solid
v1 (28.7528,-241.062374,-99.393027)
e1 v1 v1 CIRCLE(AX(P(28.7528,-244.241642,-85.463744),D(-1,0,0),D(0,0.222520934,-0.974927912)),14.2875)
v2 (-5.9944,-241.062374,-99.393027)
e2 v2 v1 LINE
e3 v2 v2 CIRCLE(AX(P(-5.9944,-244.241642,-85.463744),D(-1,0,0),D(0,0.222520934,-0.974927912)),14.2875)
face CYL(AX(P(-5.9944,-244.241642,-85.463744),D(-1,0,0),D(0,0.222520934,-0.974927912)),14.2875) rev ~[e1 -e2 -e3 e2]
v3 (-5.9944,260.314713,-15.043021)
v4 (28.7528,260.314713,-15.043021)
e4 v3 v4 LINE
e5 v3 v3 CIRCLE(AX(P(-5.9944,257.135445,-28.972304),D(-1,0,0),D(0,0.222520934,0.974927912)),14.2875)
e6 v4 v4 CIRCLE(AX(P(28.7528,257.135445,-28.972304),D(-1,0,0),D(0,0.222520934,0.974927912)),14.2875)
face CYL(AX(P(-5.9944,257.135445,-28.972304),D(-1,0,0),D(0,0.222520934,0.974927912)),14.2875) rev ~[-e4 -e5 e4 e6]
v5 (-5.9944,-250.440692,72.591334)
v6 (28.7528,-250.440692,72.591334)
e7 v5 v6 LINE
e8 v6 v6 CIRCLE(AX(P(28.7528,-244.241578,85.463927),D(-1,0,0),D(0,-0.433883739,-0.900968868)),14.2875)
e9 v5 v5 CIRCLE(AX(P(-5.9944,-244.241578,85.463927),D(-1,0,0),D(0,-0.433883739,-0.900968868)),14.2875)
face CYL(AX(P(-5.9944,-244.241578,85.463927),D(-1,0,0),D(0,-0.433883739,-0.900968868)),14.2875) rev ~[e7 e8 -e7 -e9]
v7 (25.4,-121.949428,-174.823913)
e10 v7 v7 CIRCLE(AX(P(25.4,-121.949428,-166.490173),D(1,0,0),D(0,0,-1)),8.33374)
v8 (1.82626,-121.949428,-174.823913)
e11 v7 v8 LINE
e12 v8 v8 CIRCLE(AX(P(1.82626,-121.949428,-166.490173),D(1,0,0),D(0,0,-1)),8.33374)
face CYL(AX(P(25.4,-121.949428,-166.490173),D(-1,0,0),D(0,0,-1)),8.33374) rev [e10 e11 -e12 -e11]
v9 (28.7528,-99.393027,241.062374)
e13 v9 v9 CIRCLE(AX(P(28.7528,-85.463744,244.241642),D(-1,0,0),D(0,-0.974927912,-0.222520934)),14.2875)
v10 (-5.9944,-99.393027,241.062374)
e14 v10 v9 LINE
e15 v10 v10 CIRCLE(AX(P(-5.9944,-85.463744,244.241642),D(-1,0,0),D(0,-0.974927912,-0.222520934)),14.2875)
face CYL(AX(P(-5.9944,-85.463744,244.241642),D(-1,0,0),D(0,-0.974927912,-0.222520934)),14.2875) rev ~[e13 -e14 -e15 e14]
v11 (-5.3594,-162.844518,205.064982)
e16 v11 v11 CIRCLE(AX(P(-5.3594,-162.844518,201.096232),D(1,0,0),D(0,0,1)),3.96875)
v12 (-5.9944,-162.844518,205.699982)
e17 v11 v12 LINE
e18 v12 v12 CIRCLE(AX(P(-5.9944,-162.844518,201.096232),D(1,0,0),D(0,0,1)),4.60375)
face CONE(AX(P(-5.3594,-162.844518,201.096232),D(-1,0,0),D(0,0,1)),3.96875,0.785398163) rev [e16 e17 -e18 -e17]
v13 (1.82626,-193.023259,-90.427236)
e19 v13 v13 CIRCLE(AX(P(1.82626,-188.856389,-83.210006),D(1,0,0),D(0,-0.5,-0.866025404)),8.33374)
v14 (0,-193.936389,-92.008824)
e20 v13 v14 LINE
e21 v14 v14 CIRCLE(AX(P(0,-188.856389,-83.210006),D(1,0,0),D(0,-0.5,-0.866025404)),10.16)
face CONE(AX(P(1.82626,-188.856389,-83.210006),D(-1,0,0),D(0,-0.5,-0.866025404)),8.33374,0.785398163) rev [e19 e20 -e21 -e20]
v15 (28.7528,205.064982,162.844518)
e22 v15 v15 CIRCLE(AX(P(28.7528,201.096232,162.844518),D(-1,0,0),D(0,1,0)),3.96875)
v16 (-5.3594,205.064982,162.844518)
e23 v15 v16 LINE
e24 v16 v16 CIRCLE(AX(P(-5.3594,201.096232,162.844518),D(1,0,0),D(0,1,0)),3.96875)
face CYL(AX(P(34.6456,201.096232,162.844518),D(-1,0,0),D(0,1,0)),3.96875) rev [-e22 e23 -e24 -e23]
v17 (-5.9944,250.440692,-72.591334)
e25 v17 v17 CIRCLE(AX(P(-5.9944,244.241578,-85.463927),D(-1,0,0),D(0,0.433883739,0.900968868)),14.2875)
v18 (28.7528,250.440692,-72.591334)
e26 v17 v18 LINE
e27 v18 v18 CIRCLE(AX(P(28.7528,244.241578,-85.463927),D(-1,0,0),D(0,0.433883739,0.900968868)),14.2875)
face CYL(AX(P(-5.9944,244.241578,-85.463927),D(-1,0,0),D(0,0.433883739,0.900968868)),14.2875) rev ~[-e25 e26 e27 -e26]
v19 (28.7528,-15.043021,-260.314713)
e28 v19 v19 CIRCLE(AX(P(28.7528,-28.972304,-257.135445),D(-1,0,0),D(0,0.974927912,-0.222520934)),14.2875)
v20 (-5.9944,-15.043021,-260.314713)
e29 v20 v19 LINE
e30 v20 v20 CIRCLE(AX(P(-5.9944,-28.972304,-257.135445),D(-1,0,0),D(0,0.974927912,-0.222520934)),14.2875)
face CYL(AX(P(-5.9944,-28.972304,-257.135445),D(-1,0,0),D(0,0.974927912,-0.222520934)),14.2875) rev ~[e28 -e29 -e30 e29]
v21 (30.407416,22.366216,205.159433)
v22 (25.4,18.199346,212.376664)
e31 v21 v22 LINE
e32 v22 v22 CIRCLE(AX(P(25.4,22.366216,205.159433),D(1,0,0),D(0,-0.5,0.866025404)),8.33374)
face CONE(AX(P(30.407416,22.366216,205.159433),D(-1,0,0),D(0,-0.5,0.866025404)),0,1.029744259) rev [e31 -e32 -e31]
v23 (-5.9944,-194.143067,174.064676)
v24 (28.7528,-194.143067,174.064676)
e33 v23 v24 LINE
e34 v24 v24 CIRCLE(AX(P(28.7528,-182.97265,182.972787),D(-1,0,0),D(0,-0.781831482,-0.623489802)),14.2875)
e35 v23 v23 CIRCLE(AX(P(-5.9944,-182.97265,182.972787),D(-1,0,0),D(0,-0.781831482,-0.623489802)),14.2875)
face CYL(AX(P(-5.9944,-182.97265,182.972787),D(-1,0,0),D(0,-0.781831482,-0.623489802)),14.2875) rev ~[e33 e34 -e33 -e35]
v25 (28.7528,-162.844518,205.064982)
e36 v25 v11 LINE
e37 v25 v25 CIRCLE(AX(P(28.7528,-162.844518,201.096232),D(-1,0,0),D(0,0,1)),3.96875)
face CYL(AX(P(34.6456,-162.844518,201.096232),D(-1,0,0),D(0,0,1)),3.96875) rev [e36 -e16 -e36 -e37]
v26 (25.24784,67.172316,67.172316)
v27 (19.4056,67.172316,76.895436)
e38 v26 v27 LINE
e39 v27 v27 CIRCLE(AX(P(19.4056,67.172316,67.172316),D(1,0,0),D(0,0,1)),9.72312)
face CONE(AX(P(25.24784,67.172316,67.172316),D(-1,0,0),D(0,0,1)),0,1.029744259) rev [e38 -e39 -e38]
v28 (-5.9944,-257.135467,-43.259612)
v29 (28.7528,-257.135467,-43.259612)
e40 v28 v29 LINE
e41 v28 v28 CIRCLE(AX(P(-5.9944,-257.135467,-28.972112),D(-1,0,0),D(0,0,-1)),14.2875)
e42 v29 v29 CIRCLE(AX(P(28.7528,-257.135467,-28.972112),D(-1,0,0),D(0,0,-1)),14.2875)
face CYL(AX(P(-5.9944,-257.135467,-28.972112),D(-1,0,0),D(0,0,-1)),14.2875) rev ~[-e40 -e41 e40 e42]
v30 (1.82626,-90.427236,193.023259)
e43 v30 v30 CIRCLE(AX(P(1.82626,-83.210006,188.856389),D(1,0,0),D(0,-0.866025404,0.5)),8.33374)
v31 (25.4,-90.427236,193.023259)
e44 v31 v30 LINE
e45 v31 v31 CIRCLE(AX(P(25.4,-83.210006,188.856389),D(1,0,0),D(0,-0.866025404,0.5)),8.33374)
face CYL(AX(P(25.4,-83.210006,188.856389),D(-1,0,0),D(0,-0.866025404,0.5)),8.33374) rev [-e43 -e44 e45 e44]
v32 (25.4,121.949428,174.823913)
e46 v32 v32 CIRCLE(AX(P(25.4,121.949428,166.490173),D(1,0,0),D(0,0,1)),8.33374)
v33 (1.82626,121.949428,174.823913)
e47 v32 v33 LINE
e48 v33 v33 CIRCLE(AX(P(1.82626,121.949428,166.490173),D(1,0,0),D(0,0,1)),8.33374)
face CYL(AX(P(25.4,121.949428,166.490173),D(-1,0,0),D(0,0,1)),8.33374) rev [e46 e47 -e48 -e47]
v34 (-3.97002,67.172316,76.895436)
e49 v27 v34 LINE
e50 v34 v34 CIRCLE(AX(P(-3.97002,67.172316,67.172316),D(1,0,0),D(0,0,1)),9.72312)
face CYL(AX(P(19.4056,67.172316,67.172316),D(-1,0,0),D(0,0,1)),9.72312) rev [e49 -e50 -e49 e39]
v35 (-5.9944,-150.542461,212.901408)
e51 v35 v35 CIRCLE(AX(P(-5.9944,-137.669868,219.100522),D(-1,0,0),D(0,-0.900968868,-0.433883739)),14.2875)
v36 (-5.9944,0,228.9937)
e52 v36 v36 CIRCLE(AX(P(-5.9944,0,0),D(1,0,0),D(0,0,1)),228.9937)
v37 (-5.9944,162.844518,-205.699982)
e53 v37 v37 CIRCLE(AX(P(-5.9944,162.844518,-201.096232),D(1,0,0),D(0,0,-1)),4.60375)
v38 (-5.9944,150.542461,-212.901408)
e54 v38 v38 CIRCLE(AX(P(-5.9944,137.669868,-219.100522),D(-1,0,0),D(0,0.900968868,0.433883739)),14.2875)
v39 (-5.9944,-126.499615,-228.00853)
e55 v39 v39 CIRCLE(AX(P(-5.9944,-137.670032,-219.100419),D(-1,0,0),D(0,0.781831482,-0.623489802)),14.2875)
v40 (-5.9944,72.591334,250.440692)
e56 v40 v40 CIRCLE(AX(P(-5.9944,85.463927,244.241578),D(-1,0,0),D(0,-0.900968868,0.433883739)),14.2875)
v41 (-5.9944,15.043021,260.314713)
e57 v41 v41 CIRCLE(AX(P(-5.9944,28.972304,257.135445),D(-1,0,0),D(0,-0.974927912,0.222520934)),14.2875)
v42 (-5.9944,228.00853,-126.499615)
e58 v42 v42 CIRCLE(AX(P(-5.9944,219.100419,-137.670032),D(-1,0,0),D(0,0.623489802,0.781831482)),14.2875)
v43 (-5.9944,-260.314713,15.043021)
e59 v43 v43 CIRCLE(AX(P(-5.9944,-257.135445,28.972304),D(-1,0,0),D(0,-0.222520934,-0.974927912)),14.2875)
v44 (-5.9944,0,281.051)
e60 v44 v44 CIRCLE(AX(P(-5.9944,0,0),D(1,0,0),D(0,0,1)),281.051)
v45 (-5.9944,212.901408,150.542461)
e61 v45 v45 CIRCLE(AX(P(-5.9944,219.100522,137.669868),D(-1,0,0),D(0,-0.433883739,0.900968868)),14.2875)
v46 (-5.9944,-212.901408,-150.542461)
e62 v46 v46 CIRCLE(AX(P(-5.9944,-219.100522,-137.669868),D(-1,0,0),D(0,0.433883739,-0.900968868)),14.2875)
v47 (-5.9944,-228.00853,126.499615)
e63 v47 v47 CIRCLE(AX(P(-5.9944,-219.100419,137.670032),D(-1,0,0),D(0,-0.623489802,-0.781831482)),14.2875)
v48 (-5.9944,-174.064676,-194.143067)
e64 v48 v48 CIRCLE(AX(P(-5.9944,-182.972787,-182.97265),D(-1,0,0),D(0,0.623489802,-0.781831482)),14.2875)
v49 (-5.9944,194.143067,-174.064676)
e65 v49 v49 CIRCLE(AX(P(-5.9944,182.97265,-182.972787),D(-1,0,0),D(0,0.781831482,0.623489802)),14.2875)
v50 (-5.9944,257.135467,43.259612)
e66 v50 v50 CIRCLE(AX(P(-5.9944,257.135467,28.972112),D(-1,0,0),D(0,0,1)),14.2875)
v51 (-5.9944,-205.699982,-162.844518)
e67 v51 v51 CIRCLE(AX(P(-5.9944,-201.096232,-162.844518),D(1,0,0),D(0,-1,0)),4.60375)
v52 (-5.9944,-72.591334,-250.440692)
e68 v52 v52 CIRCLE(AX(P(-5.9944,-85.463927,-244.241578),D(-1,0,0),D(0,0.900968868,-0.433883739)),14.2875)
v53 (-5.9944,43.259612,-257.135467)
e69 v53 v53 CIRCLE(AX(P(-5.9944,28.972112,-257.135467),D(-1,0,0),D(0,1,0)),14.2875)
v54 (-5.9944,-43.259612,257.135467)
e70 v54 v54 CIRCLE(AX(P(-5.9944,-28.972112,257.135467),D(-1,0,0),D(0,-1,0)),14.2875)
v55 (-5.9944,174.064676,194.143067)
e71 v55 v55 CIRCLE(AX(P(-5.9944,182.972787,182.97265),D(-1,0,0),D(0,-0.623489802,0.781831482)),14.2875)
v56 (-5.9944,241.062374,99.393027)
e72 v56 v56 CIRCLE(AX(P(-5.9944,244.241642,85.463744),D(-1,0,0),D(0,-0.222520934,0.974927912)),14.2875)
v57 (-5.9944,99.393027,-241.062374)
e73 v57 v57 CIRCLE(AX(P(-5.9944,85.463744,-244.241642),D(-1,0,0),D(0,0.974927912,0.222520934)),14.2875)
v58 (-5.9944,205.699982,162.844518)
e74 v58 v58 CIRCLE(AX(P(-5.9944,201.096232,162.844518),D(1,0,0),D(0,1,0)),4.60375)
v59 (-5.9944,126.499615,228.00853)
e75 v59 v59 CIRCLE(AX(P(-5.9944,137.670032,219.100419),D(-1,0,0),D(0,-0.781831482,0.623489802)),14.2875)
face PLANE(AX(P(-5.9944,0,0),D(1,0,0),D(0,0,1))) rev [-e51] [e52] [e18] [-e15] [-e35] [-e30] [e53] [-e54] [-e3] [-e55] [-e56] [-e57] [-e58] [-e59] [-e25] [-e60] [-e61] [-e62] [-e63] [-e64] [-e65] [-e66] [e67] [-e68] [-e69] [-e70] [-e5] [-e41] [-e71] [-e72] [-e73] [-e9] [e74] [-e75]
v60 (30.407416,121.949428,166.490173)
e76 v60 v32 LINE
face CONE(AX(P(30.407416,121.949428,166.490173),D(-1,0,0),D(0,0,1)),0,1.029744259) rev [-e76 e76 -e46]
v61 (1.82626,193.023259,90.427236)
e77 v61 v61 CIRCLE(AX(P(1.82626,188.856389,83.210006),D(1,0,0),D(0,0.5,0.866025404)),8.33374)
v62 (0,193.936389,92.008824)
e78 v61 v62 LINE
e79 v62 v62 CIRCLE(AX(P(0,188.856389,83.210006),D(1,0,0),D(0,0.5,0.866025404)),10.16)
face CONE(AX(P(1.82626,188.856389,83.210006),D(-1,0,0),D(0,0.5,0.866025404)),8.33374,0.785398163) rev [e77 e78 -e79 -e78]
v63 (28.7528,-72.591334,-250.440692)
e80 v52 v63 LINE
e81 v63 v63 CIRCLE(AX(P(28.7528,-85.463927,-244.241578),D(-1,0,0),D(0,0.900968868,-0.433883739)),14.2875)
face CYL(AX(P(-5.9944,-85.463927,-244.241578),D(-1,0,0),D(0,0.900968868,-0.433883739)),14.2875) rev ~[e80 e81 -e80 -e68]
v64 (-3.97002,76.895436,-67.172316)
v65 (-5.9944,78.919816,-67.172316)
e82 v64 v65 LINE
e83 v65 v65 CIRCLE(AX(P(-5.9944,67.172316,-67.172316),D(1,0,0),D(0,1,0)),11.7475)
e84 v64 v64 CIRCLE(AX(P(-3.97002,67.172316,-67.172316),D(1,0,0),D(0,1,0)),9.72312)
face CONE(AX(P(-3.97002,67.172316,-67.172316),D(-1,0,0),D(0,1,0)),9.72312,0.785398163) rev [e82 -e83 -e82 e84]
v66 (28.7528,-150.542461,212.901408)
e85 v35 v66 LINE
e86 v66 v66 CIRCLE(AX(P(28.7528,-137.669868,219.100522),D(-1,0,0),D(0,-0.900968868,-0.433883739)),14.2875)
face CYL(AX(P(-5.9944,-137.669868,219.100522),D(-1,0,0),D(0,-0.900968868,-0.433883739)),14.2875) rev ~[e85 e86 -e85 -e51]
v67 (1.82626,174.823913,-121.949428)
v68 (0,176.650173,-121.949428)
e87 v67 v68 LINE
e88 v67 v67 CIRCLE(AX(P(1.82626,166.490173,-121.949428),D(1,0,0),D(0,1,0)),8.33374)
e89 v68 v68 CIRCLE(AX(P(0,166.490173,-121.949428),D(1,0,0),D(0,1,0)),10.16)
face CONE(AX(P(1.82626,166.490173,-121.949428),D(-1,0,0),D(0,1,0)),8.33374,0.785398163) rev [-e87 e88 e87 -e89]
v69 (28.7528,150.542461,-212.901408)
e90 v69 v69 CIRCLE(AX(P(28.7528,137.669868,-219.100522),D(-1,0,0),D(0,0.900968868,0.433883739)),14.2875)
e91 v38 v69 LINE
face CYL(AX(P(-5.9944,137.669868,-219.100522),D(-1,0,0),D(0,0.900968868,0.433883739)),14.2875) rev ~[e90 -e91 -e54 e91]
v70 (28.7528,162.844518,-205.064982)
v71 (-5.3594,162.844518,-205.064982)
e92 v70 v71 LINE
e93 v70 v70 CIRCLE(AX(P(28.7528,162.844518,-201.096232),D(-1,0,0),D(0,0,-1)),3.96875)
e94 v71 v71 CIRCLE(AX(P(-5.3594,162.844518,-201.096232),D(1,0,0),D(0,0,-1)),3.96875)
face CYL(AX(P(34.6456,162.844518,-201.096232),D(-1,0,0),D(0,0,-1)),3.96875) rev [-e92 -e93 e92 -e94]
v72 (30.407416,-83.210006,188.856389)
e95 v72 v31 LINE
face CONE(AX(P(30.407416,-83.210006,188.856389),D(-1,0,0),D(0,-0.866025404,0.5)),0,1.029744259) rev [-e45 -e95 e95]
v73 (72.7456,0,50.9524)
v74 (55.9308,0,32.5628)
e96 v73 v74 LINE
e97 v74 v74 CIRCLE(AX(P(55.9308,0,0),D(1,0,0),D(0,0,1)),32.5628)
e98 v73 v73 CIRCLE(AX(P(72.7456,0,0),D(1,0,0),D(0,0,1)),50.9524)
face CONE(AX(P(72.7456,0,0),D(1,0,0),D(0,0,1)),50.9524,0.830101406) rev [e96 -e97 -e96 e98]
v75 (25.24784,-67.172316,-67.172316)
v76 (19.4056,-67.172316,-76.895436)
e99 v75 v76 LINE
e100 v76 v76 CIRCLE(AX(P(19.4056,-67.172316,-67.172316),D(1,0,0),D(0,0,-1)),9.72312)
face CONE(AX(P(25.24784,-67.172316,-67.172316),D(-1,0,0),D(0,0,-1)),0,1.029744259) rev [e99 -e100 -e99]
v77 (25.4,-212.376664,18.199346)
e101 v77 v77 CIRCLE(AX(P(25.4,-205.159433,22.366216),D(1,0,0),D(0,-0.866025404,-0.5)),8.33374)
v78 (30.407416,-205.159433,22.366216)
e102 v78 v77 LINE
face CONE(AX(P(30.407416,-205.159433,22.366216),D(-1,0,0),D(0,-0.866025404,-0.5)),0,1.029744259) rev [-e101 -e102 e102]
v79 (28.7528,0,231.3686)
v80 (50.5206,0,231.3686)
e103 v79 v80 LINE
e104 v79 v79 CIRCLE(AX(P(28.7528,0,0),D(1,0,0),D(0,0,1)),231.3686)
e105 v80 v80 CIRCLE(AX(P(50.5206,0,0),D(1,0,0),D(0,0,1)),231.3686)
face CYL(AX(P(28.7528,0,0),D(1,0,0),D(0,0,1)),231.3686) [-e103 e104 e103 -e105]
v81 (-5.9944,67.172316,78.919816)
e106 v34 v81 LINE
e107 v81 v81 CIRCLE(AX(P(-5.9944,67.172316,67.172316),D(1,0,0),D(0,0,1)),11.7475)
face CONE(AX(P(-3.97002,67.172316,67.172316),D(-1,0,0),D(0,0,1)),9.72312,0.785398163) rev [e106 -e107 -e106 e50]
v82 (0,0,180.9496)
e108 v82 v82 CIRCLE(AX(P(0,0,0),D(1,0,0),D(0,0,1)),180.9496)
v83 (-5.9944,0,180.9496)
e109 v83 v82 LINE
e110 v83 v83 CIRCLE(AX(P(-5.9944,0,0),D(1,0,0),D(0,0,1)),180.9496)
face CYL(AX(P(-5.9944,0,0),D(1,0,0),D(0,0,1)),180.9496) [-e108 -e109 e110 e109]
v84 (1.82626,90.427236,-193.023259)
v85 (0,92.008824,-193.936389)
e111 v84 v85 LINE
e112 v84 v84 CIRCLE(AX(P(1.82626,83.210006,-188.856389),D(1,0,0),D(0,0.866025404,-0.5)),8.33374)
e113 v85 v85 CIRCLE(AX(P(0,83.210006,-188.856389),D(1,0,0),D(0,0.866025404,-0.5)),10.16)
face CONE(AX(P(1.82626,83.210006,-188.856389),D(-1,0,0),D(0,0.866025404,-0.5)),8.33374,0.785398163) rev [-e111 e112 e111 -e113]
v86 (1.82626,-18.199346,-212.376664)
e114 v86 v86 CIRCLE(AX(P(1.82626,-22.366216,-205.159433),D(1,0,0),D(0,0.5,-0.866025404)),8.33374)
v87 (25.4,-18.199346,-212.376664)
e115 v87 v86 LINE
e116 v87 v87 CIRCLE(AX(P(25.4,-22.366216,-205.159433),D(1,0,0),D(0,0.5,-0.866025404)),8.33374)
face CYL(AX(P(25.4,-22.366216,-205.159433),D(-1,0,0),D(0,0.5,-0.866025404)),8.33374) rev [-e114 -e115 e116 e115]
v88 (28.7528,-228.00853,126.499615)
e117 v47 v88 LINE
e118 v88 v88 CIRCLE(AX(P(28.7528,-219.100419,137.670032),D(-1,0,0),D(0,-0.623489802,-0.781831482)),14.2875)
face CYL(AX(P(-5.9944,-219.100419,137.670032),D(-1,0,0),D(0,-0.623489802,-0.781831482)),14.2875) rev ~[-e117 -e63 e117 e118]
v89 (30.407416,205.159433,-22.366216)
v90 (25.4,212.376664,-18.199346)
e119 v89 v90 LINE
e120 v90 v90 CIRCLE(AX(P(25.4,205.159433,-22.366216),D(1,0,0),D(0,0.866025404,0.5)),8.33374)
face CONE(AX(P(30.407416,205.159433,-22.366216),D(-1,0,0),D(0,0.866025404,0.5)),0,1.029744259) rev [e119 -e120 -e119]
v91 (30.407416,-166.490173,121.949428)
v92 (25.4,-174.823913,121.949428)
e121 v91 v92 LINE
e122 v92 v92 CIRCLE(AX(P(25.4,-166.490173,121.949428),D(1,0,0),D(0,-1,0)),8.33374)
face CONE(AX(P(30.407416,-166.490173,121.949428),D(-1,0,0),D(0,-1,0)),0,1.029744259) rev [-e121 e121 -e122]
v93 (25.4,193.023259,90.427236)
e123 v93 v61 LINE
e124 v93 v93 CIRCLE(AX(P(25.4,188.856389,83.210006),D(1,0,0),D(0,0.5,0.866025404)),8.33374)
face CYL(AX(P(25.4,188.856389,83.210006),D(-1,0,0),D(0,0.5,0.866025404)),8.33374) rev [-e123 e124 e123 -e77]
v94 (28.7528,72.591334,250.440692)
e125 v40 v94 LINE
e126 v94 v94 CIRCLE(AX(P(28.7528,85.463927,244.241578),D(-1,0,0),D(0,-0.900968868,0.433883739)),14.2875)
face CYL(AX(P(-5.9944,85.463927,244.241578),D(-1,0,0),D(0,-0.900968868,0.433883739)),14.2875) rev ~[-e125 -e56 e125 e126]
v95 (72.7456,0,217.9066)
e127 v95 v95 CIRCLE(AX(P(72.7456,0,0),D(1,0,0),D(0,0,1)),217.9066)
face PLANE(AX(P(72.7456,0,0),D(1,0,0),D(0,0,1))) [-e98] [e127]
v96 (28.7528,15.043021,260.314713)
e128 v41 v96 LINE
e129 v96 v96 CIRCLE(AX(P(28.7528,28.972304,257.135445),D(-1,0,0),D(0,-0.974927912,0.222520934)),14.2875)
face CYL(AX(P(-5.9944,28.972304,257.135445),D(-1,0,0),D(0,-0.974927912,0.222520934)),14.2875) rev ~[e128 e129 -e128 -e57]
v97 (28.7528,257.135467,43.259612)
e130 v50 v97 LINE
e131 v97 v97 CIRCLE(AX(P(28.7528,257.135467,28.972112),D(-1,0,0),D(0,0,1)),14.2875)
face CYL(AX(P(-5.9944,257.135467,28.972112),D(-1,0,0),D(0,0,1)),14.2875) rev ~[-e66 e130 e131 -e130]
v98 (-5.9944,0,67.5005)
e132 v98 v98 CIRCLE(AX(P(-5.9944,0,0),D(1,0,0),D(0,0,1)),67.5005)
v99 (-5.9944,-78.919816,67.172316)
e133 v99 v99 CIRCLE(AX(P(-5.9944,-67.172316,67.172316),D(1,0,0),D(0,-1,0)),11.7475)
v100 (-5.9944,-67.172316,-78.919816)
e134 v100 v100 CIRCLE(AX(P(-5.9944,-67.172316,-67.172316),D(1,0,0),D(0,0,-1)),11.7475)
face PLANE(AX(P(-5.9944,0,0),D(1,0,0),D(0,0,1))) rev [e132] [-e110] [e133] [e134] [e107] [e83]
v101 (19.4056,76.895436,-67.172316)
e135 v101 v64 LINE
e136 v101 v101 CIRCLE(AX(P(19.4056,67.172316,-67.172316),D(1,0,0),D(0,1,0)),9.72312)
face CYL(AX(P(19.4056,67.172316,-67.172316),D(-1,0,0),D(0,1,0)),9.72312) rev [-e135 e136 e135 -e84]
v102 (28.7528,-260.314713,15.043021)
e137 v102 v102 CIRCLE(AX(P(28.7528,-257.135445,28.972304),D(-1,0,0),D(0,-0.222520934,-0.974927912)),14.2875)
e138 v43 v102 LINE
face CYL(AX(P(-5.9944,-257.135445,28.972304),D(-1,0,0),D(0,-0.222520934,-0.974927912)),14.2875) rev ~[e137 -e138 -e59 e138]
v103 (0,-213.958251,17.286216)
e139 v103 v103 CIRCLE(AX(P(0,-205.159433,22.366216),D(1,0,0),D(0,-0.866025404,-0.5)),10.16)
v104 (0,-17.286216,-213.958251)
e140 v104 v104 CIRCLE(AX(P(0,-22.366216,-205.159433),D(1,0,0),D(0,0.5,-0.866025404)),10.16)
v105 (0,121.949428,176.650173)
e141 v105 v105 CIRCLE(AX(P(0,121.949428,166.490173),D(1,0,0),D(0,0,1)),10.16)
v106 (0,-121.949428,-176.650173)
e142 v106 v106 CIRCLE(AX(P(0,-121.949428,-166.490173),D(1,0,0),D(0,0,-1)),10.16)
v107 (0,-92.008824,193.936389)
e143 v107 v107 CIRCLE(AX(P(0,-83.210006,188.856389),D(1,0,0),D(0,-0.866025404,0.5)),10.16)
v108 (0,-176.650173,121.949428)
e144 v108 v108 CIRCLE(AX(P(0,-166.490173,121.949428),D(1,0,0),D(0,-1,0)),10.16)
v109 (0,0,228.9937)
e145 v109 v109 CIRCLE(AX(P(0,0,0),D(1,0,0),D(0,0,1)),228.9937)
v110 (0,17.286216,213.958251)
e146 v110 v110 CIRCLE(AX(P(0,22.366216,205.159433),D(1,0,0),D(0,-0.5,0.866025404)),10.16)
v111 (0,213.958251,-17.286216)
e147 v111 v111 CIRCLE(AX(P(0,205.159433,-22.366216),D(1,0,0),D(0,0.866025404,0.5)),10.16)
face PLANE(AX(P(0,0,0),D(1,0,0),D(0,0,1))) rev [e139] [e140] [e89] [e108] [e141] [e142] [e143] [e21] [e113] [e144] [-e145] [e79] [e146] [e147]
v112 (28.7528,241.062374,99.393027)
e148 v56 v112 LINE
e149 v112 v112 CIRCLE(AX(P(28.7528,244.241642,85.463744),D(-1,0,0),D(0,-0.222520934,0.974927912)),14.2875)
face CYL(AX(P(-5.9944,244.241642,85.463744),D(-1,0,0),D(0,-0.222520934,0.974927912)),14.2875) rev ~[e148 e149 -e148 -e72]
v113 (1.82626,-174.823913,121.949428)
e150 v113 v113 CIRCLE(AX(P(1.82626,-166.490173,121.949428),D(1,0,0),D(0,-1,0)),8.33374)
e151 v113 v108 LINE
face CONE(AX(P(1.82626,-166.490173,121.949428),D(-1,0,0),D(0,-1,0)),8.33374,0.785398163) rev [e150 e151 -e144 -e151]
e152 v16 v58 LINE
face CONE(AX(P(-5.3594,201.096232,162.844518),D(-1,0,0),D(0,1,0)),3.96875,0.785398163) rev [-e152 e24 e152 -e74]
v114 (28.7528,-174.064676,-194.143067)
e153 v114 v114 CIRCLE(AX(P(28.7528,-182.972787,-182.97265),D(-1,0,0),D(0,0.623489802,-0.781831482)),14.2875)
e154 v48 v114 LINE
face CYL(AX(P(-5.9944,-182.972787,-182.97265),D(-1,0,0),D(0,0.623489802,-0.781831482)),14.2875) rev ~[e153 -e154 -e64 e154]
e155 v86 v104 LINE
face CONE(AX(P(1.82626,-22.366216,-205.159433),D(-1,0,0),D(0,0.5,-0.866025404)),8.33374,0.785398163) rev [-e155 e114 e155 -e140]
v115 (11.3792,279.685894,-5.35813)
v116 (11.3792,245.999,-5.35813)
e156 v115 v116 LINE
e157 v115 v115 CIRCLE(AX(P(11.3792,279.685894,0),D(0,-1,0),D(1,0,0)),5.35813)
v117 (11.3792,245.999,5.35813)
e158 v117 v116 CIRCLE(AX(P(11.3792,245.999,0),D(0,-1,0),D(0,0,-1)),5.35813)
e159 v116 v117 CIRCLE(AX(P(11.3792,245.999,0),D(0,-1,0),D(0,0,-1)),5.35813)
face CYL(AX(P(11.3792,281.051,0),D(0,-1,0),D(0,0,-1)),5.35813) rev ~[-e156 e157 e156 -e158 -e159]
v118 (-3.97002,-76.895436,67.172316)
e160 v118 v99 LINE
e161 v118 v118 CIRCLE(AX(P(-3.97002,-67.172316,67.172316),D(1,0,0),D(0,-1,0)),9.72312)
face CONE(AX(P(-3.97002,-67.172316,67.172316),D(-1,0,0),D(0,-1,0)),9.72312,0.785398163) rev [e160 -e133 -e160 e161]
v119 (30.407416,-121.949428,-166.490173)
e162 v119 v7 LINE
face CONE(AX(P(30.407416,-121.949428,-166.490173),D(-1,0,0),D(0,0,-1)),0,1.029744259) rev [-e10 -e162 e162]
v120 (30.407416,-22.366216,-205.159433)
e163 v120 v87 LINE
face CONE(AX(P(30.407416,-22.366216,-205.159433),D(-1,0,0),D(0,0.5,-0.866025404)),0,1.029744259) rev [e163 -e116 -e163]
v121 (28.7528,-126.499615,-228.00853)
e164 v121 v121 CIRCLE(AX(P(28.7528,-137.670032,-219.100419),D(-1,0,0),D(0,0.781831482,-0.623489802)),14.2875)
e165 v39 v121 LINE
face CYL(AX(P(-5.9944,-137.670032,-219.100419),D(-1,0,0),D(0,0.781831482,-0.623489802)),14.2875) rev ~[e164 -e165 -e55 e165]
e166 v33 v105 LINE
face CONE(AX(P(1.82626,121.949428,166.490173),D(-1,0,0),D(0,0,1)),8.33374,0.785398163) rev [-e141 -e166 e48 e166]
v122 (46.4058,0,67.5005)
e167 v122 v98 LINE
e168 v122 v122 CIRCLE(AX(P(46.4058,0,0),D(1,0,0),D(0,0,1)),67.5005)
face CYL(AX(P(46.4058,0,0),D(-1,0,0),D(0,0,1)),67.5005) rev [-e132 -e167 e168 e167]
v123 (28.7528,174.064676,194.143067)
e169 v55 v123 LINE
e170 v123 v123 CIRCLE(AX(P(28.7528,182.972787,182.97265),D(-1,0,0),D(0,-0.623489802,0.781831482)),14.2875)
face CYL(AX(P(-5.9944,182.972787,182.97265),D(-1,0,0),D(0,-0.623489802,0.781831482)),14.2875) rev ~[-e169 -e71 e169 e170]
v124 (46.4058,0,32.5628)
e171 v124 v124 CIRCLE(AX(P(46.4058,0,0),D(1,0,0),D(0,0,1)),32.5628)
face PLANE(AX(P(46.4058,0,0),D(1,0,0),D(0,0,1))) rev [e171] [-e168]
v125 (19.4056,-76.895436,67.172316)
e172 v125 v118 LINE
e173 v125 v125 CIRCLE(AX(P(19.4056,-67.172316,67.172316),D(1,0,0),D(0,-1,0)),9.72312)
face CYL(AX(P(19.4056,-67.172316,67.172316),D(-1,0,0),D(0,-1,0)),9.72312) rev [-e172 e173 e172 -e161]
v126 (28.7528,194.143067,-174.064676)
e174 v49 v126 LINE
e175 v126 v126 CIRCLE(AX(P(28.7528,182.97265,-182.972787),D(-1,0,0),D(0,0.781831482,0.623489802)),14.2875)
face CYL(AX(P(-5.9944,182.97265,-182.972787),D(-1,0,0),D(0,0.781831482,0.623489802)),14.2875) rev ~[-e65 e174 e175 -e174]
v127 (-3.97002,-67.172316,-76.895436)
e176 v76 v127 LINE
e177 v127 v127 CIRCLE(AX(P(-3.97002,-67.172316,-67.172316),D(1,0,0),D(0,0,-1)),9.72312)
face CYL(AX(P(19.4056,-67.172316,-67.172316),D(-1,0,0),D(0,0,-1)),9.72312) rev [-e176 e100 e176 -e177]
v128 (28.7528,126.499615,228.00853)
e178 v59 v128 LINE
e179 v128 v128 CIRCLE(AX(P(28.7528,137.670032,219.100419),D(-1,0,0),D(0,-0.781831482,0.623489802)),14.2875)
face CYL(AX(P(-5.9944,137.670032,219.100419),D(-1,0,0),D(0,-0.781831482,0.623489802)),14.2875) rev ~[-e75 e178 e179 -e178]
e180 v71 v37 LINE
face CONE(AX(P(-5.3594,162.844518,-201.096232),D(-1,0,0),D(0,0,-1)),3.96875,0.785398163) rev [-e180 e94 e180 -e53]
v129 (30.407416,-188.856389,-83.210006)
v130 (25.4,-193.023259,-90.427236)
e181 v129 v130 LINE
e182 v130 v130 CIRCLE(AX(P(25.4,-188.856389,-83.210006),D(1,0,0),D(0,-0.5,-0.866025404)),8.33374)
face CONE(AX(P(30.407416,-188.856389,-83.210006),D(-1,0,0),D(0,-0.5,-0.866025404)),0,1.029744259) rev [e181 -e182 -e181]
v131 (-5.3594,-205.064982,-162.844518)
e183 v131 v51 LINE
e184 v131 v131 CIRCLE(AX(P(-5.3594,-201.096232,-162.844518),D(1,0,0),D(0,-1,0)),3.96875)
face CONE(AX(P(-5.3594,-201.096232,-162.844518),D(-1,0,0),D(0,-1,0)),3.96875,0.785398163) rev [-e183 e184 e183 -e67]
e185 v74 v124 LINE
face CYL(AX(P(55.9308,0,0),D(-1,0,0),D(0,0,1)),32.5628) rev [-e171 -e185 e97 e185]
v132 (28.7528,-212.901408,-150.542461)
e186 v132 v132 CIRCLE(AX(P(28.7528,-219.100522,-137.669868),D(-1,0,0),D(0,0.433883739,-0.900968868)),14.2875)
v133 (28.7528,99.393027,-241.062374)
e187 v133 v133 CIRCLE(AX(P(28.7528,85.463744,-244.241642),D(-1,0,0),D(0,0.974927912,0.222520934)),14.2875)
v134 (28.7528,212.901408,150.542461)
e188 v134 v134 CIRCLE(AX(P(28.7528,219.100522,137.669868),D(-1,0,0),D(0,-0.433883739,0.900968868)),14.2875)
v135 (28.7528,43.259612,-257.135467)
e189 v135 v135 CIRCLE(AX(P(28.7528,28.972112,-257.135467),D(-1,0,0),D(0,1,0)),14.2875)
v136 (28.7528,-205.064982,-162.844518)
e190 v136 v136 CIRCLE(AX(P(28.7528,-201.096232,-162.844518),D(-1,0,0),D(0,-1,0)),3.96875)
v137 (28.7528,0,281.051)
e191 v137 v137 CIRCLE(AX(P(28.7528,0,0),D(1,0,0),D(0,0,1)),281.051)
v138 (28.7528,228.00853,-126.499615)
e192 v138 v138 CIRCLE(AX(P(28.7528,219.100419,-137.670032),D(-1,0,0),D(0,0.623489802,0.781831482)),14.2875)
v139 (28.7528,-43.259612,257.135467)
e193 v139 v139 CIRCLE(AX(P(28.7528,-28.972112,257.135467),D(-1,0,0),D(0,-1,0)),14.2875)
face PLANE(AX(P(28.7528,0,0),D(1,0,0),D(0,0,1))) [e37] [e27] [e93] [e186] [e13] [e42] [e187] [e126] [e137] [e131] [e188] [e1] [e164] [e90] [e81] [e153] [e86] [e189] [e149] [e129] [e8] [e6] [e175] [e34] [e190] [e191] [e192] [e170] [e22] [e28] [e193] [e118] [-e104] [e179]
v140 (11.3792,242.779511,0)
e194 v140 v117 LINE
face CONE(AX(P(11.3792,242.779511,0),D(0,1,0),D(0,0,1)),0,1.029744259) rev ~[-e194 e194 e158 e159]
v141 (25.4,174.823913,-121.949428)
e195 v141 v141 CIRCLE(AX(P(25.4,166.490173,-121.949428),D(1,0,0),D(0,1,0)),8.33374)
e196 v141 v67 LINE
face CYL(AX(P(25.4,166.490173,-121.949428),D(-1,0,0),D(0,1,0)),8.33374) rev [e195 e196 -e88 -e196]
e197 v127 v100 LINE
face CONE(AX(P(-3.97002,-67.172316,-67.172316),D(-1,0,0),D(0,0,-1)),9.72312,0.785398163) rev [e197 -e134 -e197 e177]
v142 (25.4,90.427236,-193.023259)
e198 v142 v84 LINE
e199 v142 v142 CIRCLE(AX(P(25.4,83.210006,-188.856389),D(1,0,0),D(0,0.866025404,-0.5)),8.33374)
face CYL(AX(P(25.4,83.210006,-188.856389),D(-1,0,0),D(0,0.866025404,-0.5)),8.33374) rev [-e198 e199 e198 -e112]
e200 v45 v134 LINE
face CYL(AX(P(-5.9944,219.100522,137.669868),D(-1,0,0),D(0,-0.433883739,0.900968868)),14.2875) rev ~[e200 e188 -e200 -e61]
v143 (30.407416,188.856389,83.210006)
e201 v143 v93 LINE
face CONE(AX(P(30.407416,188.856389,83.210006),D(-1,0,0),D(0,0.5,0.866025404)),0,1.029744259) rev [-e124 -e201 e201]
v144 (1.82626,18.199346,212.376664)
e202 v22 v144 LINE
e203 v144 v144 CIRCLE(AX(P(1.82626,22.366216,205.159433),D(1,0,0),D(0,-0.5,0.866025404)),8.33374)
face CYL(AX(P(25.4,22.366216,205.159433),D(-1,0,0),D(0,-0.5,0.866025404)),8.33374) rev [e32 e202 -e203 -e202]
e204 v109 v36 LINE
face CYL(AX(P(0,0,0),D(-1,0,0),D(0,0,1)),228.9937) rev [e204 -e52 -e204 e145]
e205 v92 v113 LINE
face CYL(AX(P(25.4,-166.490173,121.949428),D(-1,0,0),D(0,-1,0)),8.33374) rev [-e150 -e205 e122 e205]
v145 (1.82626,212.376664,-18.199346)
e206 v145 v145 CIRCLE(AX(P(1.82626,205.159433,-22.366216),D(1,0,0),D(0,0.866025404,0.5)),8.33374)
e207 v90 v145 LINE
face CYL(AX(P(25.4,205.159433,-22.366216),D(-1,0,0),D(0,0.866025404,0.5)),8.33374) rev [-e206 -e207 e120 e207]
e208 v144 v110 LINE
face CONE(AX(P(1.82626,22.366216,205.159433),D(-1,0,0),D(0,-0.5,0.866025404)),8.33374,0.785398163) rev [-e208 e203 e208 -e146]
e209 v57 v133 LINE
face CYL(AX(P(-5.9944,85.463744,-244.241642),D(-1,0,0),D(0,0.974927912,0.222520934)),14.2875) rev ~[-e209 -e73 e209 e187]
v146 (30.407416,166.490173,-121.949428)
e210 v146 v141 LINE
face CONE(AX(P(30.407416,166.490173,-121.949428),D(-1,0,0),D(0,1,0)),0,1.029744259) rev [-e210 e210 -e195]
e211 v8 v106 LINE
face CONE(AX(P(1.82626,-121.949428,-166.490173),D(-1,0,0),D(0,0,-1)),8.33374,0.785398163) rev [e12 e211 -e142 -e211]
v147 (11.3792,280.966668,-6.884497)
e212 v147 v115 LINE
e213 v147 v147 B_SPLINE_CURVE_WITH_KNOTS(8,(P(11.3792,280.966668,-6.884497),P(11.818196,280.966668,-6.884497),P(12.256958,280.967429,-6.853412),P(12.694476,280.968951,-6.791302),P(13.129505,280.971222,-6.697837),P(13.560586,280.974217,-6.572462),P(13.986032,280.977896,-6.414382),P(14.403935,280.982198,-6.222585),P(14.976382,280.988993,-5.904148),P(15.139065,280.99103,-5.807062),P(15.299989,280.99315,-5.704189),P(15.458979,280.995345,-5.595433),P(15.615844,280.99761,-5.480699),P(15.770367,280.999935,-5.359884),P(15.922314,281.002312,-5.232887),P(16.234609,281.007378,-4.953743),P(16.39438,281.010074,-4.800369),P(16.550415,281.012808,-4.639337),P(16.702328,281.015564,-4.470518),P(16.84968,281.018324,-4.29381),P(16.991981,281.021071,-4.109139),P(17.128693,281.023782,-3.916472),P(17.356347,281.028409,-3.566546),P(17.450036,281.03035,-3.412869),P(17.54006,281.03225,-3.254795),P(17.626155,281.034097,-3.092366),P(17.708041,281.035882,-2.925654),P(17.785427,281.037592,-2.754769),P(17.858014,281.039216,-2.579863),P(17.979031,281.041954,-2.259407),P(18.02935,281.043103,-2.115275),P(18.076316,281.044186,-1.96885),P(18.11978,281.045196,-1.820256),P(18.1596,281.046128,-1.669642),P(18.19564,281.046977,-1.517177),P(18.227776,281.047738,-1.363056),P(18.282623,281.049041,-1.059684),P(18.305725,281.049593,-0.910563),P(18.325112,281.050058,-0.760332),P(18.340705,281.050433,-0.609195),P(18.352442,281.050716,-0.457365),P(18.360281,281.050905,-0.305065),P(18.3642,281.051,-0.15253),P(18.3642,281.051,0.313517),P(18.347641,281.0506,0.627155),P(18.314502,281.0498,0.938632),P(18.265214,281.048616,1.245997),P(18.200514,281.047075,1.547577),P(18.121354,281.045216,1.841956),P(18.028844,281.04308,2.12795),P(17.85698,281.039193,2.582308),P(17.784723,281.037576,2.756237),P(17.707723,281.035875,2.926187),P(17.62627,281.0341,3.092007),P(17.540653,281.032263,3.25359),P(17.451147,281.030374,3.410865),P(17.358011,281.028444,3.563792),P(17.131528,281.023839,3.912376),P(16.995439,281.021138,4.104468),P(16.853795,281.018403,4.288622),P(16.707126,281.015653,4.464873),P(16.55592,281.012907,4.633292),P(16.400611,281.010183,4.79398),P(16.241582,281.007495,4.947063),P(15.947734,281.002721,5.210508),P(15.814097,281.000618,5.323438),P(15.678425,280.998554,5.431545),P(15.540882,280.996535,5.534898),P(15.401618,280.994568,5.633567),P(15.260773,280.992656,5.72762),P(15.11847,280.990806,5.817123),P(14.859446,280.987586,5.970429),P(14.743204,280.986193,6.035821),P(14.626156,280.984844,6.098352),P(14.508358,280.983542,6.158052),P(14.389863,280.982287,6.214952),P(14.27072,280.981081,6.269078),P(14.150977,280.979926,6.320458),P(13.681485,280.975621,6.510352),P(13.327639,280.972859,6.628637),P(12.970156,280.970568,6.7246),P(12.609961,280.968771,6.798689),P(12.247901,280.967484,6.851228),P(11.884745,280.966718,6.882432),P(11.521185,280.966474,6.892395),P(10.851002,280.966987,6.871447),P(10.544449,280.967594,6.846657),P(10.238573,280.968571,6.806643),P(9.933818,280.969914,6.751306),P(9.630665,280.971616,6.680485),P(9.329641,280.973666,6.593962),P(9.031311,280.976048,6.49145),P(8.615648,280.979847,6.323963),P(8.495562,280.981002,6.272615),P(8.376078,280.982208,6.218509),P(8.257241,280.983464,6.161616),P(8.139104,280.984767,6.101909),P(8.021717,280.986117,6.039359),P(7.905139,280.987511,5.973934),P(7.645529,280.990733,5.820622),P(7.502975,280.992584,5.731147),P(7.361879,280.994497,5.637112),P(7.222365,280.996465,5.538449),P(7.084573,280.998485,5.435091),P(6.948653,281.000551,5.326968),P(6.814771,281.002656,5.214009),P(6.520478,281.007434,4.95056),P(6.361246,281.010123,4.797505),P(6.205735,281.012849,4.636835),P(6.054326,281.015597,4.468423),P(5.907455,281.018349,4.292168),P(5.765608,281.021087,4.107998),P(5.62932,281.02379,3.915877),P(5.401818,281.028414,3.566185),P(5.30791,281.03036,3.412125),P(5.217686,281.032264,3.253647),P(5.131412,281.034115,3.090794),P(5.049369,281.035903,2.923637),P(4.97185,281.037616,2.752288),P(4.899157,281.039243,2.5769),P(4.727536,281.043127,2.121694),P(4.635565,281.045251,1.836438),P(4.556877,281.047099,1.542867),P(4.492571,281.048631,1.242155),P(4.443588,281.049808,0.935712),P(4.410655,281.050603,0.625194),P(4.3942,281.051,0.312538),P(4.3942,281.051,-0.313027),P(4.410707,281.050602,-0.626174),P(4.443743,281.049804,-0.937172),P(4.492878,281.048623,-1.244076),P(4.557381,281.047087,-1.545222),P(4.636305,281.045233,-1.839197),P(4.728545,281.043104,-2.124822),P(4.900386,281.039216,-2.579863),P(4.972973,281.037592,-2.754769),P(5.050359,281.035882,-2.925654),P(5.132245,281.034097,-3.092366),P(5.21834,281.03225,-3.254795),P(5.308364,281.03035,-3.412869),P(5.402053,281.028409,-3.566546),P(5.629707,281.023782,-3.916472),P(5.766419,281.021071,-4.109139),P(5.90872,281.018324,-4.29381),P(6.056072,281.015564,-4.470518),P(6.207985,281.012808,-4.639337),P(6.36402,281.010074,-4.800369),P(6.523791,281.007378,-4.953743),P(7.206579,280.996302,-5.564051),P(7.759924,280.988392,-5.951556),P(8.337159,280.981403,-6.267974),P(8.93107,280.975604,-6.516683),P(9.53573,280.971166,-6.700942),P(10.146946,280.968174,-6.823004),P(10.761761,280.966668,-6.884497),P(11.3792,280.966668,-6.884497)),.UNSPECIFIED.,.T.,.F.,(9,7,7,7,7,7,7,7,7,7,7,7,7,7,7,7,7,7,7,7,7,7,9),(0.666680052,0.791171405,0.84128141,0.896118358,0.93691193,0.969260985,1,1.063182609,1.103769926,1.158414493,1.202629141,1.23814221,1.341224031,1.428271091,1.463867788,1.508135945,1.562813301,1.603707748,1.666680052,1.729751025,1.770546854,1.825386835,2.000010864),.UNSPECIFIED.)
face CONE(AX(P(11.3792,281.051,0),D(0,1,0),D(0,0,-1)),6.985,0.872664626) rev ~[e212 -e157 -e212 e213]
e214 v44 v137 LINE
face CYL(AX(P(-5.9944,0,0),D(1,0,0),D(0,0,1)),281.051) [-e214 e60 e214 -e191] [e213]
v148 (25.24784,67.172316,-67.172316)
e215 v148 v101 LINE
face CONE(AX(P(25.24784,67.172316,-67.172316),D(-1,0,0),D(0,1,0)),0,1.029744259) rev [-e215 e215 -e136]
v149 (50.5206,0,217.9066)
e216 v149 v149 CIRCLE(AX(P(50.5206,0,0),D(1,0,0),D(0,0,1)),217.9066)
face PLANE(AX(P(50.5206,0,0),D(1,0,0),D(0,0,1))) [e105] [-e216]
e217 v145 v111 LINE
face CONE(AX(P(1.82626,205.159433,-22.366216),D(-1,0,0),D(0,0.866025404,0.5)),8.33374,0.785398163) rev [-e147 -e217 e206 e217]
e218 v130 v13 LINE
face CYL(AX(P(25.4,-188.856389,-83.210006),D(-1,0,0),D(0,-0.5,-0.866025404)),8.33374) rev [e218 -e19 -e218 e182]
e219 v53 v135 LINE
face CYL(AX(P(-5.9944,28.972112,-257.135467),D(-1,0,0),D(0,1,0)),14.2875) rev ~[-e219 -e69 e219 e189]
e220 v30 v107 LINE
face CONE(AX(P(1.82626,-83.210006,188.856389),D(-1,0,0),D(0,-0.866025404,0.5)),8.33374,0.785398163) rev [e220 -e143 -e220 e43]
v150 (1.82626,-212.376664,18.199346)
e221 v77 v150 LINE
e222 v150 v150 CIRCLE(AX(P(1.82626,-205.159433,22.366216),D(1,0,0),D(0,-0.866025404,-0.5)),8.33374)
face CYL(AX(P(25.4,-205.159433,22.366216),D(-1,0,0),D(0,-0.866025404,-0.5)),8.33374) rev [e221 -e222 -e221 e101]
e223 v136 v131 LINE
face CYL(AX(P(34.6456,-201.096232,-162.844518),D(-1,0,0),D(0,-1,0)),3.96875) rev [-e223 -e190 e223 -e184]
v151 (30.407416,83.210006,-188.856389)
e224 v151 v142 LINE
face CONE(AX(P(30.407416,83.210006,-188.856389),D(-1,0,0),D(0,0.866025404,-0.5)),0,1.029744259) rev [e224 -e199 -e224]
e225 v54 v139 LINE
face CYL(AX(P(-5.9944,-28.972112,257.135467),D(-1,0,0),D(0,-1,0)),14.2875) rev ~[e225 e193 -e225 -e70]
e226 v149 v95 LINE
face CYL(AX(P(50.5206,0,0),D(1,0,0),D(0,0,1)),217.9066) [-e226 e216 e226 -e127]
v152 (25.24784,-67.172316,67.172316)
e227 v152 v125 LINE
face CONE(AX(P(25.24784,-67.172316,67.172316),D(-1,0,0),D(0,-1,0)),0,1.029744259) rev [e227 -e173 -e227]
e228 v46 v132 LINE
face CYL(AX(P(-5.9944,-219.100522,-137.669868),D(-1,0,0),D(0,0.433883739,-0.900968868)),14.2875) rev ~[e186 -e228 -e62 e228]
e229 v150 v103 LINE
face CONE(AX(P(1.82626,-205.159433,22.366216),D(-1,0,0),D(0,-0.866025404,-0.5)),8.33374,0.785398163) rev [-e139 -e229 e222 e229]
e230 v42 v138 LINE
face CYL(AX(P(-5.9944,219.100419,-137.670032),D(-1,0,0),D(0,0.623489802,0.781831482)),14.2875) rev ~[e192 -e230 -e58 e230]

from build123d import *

# Parameters (mm, degrees)
SKETCH4_R                         = 14.2875
CUT_EXTRUDE1_DEPTH                = 406.190469782
CIRPATTERN2_COUNT                 = 28
CIRPATTERN3_COUNT                 = 12
CIRPATTERN4_COUNT                 = 4
CIRPATTERN5_COUNT                 = 4
F_1_2_13_TAPPED_HOLE4_D           = 10.71626
F_1_2_13_TAPPED_HOLE4_DEPTH       = 35.052
F_1_2_13_TAPPED_HOLE4_CSINK_D     = 13.97
F_1_2_13_TAPPED_HOLE4_CSINK_ANGLE = 100
F_1_2_13_TAPPED_HOLE4_TIP         = 3.219489309


with BuildPart() as part:
    # Sketch1 → Revolve1 (revolve)
    with BuildSketch(Plane.XY, mode=Mode.PRIVATE) as revolve1_sk:
        Polygon((-5.9944, 67.5005), (-5.9944, 180.9496), (0, 180.9496), (0, 228.9937), (-5.9944, 228.9937), (-5.9944, 281.051), (28.7528, 281.051), (28.7528, 231.3686), (50.5206, 231.3686), (50.5206, 217.9066), (72.7456, 217.9066), (72.7456, 50.9524), (55.9308, 32.5628), (46.4058, 32.5628), (46.4058, 67.5005), align=None)
    revolve(revolve1_sk.sketch.rotate(Axis((0, 0, 0), (1, 0, 0)), 90), axis=Axis((0, 0, 0), (1, 0, 0)))

    # Sketch4 → Cut-Extrude1 (cut, through all)
    with BuildSketch(Plane.ZY.offset(5.9944)):
        with Locations((28.972111579, 257.135466548)):
            Circle(SKETCH4_R)
    cut_extrude1 = extrude(amount=-CUT_EXTRUDE1_DEPTH, mode=Mode.SUBTRACT)

    # CirPattern2: Cut-Extrude1 ×28 about axis
    cirpattern2_axis = Axis((0, 0, 0), (1, 0, 0))
    for i in range(1, CIRPATTERN2_COUNT):
        add(cut_extrude1.rotate(cirpattern2_axis, i * 360 / CIRPATTERN2_COUNT), mode=Mode.SUBTRACT)

    # Sketch8 → 3/4-10 Tapped Hole1 (revolve, cut)
    with BuildSketch(Plane(origin=(0, 121.949427599, 166.490173083), x_dir=(0, 0, 1), z_dir=(0, 1, 0))):
        Polygon((0, 0), (0, 30.407416175), (8.33374, 25.4), (8.33374, 1.82626), (10.16, 0), align=None)
    f_3_4_10_tapped_hole1 = revolve(axis=Axis((-6.35, 121.949427599, 166.490173083), (1, 0, 0)), mode=Mode.SUBTRACT)

    # CirPattern3: 3/4-10 Tapped Hole1 ×12 about axis
    cirpattern3_axis = Axis((0, 0, 0), (1, 0, 0))
    for i in range(1, CIRPATTERN3_COUNT):
        add(f_3_4_10_tapped_hole1.rotate(cirpattern3_axis, i * 360 / CIRPATTERN3_COUNT), mode=Mode.SUBTRACT)

    # Sketch10 → 7/8-9 Tapped Hole1 (revolve, cut)
    with BuildSketch(Plane(origin=(-5.9944, 67.172315786, 67.172315786), x_dir=(0, 0, 1), z_dir=(0, 1, 0))):
        Polygon((0, 0), (0, 31.242239902), (9.72312, 25.4), (9.72312, 2.02438), (11.7475, 0), align=None)
    f_7_8_9_tapped_hole1 = revolve(axis=Axis((-12.3444, 67.172315786, 67.172315786), (1, 0, 0)), mode=Mode.SUBTRACT)

    # CirPattern4: 7/8-9 Tapped Hole1 ×4 about axis
    cirpattern4_axis = Axis((0, 0, 0), (1, 0, 0))
    for i in range(1, CIRPATTERN4_COUNT):
        add(f_7_8_9_tapped_hole1.rotate(cirpattern4_axis, i * 360 / CIRPATTERN4_COUNT), mode=Mode.SUBTRACT)

    # Sketch12 → Tap Drill for 3/8-16 Tap1 (revolve, cut)
    with BuildSketch(Plane(origin=(-5.9944, -162.844517689, 201.096231852), x_dir=(0, 0, 1), z_dir=(0, 1, 0))):
        Polygon((0, 0), (0, 43.024665582), (3.96875, 40.64), (3.96875, 0.635), (4.60375, 0), align=None)
    tap_drill_for_3_8_16_tap1 = revolve(axis=Axis((-12.3444, -162.844517689, 201.096231852), (1, 0, 0)), mode=Mode.SUBTRACT)

    # CirPattern5: Tap Drill for 3/8-16 Tap1 ×4 about axis
    cirpattern5_axis = Axis((0, 0, 0), (1, 0, 0))
    for i in range(1, CIRPATTERN5_COUNT):
        add(tap_drill_for_3_8_16_tap1.rotate(cirpattern5_axis, i * 360 / CIRPATTERN5_COUNT), mode=Mode.SUBTRACT)

    # 1/2-13 Tapped Hole4
    with Locations(Plane(origin=(11.3792, 281.051, 0), x_dir=(0, 0, 1), z_dir=(0, 1, 0))):
        with Locations((0, 0)):
            CounterSinkHole(F_1_2_13_TAPPED_HOLE4_D / 2, F_1_2_13_TAPPED_HOLE4_CSINK_D / 2, depth=F_1_2_13_TAPPED_HOLE4_DEPTH, counter_sink_angle=F_1_2_13_TAPPED_HOLE4_CSINK_ANGLE)
            with Locations((0, 0, -(F_1_2_13_TAPPED_HOLE4_DEPTH + F_1_2_13_TAPPED_HOLE4_TIP / 2))):  # 118° drill point
                Cone(0, F_1_2_13_TAPPED_HOLE4_D / 2, F_1_2_13_TAPPED_HOLE4_TIP, mode=Mode.SUBTRACT)


solid = part.part
